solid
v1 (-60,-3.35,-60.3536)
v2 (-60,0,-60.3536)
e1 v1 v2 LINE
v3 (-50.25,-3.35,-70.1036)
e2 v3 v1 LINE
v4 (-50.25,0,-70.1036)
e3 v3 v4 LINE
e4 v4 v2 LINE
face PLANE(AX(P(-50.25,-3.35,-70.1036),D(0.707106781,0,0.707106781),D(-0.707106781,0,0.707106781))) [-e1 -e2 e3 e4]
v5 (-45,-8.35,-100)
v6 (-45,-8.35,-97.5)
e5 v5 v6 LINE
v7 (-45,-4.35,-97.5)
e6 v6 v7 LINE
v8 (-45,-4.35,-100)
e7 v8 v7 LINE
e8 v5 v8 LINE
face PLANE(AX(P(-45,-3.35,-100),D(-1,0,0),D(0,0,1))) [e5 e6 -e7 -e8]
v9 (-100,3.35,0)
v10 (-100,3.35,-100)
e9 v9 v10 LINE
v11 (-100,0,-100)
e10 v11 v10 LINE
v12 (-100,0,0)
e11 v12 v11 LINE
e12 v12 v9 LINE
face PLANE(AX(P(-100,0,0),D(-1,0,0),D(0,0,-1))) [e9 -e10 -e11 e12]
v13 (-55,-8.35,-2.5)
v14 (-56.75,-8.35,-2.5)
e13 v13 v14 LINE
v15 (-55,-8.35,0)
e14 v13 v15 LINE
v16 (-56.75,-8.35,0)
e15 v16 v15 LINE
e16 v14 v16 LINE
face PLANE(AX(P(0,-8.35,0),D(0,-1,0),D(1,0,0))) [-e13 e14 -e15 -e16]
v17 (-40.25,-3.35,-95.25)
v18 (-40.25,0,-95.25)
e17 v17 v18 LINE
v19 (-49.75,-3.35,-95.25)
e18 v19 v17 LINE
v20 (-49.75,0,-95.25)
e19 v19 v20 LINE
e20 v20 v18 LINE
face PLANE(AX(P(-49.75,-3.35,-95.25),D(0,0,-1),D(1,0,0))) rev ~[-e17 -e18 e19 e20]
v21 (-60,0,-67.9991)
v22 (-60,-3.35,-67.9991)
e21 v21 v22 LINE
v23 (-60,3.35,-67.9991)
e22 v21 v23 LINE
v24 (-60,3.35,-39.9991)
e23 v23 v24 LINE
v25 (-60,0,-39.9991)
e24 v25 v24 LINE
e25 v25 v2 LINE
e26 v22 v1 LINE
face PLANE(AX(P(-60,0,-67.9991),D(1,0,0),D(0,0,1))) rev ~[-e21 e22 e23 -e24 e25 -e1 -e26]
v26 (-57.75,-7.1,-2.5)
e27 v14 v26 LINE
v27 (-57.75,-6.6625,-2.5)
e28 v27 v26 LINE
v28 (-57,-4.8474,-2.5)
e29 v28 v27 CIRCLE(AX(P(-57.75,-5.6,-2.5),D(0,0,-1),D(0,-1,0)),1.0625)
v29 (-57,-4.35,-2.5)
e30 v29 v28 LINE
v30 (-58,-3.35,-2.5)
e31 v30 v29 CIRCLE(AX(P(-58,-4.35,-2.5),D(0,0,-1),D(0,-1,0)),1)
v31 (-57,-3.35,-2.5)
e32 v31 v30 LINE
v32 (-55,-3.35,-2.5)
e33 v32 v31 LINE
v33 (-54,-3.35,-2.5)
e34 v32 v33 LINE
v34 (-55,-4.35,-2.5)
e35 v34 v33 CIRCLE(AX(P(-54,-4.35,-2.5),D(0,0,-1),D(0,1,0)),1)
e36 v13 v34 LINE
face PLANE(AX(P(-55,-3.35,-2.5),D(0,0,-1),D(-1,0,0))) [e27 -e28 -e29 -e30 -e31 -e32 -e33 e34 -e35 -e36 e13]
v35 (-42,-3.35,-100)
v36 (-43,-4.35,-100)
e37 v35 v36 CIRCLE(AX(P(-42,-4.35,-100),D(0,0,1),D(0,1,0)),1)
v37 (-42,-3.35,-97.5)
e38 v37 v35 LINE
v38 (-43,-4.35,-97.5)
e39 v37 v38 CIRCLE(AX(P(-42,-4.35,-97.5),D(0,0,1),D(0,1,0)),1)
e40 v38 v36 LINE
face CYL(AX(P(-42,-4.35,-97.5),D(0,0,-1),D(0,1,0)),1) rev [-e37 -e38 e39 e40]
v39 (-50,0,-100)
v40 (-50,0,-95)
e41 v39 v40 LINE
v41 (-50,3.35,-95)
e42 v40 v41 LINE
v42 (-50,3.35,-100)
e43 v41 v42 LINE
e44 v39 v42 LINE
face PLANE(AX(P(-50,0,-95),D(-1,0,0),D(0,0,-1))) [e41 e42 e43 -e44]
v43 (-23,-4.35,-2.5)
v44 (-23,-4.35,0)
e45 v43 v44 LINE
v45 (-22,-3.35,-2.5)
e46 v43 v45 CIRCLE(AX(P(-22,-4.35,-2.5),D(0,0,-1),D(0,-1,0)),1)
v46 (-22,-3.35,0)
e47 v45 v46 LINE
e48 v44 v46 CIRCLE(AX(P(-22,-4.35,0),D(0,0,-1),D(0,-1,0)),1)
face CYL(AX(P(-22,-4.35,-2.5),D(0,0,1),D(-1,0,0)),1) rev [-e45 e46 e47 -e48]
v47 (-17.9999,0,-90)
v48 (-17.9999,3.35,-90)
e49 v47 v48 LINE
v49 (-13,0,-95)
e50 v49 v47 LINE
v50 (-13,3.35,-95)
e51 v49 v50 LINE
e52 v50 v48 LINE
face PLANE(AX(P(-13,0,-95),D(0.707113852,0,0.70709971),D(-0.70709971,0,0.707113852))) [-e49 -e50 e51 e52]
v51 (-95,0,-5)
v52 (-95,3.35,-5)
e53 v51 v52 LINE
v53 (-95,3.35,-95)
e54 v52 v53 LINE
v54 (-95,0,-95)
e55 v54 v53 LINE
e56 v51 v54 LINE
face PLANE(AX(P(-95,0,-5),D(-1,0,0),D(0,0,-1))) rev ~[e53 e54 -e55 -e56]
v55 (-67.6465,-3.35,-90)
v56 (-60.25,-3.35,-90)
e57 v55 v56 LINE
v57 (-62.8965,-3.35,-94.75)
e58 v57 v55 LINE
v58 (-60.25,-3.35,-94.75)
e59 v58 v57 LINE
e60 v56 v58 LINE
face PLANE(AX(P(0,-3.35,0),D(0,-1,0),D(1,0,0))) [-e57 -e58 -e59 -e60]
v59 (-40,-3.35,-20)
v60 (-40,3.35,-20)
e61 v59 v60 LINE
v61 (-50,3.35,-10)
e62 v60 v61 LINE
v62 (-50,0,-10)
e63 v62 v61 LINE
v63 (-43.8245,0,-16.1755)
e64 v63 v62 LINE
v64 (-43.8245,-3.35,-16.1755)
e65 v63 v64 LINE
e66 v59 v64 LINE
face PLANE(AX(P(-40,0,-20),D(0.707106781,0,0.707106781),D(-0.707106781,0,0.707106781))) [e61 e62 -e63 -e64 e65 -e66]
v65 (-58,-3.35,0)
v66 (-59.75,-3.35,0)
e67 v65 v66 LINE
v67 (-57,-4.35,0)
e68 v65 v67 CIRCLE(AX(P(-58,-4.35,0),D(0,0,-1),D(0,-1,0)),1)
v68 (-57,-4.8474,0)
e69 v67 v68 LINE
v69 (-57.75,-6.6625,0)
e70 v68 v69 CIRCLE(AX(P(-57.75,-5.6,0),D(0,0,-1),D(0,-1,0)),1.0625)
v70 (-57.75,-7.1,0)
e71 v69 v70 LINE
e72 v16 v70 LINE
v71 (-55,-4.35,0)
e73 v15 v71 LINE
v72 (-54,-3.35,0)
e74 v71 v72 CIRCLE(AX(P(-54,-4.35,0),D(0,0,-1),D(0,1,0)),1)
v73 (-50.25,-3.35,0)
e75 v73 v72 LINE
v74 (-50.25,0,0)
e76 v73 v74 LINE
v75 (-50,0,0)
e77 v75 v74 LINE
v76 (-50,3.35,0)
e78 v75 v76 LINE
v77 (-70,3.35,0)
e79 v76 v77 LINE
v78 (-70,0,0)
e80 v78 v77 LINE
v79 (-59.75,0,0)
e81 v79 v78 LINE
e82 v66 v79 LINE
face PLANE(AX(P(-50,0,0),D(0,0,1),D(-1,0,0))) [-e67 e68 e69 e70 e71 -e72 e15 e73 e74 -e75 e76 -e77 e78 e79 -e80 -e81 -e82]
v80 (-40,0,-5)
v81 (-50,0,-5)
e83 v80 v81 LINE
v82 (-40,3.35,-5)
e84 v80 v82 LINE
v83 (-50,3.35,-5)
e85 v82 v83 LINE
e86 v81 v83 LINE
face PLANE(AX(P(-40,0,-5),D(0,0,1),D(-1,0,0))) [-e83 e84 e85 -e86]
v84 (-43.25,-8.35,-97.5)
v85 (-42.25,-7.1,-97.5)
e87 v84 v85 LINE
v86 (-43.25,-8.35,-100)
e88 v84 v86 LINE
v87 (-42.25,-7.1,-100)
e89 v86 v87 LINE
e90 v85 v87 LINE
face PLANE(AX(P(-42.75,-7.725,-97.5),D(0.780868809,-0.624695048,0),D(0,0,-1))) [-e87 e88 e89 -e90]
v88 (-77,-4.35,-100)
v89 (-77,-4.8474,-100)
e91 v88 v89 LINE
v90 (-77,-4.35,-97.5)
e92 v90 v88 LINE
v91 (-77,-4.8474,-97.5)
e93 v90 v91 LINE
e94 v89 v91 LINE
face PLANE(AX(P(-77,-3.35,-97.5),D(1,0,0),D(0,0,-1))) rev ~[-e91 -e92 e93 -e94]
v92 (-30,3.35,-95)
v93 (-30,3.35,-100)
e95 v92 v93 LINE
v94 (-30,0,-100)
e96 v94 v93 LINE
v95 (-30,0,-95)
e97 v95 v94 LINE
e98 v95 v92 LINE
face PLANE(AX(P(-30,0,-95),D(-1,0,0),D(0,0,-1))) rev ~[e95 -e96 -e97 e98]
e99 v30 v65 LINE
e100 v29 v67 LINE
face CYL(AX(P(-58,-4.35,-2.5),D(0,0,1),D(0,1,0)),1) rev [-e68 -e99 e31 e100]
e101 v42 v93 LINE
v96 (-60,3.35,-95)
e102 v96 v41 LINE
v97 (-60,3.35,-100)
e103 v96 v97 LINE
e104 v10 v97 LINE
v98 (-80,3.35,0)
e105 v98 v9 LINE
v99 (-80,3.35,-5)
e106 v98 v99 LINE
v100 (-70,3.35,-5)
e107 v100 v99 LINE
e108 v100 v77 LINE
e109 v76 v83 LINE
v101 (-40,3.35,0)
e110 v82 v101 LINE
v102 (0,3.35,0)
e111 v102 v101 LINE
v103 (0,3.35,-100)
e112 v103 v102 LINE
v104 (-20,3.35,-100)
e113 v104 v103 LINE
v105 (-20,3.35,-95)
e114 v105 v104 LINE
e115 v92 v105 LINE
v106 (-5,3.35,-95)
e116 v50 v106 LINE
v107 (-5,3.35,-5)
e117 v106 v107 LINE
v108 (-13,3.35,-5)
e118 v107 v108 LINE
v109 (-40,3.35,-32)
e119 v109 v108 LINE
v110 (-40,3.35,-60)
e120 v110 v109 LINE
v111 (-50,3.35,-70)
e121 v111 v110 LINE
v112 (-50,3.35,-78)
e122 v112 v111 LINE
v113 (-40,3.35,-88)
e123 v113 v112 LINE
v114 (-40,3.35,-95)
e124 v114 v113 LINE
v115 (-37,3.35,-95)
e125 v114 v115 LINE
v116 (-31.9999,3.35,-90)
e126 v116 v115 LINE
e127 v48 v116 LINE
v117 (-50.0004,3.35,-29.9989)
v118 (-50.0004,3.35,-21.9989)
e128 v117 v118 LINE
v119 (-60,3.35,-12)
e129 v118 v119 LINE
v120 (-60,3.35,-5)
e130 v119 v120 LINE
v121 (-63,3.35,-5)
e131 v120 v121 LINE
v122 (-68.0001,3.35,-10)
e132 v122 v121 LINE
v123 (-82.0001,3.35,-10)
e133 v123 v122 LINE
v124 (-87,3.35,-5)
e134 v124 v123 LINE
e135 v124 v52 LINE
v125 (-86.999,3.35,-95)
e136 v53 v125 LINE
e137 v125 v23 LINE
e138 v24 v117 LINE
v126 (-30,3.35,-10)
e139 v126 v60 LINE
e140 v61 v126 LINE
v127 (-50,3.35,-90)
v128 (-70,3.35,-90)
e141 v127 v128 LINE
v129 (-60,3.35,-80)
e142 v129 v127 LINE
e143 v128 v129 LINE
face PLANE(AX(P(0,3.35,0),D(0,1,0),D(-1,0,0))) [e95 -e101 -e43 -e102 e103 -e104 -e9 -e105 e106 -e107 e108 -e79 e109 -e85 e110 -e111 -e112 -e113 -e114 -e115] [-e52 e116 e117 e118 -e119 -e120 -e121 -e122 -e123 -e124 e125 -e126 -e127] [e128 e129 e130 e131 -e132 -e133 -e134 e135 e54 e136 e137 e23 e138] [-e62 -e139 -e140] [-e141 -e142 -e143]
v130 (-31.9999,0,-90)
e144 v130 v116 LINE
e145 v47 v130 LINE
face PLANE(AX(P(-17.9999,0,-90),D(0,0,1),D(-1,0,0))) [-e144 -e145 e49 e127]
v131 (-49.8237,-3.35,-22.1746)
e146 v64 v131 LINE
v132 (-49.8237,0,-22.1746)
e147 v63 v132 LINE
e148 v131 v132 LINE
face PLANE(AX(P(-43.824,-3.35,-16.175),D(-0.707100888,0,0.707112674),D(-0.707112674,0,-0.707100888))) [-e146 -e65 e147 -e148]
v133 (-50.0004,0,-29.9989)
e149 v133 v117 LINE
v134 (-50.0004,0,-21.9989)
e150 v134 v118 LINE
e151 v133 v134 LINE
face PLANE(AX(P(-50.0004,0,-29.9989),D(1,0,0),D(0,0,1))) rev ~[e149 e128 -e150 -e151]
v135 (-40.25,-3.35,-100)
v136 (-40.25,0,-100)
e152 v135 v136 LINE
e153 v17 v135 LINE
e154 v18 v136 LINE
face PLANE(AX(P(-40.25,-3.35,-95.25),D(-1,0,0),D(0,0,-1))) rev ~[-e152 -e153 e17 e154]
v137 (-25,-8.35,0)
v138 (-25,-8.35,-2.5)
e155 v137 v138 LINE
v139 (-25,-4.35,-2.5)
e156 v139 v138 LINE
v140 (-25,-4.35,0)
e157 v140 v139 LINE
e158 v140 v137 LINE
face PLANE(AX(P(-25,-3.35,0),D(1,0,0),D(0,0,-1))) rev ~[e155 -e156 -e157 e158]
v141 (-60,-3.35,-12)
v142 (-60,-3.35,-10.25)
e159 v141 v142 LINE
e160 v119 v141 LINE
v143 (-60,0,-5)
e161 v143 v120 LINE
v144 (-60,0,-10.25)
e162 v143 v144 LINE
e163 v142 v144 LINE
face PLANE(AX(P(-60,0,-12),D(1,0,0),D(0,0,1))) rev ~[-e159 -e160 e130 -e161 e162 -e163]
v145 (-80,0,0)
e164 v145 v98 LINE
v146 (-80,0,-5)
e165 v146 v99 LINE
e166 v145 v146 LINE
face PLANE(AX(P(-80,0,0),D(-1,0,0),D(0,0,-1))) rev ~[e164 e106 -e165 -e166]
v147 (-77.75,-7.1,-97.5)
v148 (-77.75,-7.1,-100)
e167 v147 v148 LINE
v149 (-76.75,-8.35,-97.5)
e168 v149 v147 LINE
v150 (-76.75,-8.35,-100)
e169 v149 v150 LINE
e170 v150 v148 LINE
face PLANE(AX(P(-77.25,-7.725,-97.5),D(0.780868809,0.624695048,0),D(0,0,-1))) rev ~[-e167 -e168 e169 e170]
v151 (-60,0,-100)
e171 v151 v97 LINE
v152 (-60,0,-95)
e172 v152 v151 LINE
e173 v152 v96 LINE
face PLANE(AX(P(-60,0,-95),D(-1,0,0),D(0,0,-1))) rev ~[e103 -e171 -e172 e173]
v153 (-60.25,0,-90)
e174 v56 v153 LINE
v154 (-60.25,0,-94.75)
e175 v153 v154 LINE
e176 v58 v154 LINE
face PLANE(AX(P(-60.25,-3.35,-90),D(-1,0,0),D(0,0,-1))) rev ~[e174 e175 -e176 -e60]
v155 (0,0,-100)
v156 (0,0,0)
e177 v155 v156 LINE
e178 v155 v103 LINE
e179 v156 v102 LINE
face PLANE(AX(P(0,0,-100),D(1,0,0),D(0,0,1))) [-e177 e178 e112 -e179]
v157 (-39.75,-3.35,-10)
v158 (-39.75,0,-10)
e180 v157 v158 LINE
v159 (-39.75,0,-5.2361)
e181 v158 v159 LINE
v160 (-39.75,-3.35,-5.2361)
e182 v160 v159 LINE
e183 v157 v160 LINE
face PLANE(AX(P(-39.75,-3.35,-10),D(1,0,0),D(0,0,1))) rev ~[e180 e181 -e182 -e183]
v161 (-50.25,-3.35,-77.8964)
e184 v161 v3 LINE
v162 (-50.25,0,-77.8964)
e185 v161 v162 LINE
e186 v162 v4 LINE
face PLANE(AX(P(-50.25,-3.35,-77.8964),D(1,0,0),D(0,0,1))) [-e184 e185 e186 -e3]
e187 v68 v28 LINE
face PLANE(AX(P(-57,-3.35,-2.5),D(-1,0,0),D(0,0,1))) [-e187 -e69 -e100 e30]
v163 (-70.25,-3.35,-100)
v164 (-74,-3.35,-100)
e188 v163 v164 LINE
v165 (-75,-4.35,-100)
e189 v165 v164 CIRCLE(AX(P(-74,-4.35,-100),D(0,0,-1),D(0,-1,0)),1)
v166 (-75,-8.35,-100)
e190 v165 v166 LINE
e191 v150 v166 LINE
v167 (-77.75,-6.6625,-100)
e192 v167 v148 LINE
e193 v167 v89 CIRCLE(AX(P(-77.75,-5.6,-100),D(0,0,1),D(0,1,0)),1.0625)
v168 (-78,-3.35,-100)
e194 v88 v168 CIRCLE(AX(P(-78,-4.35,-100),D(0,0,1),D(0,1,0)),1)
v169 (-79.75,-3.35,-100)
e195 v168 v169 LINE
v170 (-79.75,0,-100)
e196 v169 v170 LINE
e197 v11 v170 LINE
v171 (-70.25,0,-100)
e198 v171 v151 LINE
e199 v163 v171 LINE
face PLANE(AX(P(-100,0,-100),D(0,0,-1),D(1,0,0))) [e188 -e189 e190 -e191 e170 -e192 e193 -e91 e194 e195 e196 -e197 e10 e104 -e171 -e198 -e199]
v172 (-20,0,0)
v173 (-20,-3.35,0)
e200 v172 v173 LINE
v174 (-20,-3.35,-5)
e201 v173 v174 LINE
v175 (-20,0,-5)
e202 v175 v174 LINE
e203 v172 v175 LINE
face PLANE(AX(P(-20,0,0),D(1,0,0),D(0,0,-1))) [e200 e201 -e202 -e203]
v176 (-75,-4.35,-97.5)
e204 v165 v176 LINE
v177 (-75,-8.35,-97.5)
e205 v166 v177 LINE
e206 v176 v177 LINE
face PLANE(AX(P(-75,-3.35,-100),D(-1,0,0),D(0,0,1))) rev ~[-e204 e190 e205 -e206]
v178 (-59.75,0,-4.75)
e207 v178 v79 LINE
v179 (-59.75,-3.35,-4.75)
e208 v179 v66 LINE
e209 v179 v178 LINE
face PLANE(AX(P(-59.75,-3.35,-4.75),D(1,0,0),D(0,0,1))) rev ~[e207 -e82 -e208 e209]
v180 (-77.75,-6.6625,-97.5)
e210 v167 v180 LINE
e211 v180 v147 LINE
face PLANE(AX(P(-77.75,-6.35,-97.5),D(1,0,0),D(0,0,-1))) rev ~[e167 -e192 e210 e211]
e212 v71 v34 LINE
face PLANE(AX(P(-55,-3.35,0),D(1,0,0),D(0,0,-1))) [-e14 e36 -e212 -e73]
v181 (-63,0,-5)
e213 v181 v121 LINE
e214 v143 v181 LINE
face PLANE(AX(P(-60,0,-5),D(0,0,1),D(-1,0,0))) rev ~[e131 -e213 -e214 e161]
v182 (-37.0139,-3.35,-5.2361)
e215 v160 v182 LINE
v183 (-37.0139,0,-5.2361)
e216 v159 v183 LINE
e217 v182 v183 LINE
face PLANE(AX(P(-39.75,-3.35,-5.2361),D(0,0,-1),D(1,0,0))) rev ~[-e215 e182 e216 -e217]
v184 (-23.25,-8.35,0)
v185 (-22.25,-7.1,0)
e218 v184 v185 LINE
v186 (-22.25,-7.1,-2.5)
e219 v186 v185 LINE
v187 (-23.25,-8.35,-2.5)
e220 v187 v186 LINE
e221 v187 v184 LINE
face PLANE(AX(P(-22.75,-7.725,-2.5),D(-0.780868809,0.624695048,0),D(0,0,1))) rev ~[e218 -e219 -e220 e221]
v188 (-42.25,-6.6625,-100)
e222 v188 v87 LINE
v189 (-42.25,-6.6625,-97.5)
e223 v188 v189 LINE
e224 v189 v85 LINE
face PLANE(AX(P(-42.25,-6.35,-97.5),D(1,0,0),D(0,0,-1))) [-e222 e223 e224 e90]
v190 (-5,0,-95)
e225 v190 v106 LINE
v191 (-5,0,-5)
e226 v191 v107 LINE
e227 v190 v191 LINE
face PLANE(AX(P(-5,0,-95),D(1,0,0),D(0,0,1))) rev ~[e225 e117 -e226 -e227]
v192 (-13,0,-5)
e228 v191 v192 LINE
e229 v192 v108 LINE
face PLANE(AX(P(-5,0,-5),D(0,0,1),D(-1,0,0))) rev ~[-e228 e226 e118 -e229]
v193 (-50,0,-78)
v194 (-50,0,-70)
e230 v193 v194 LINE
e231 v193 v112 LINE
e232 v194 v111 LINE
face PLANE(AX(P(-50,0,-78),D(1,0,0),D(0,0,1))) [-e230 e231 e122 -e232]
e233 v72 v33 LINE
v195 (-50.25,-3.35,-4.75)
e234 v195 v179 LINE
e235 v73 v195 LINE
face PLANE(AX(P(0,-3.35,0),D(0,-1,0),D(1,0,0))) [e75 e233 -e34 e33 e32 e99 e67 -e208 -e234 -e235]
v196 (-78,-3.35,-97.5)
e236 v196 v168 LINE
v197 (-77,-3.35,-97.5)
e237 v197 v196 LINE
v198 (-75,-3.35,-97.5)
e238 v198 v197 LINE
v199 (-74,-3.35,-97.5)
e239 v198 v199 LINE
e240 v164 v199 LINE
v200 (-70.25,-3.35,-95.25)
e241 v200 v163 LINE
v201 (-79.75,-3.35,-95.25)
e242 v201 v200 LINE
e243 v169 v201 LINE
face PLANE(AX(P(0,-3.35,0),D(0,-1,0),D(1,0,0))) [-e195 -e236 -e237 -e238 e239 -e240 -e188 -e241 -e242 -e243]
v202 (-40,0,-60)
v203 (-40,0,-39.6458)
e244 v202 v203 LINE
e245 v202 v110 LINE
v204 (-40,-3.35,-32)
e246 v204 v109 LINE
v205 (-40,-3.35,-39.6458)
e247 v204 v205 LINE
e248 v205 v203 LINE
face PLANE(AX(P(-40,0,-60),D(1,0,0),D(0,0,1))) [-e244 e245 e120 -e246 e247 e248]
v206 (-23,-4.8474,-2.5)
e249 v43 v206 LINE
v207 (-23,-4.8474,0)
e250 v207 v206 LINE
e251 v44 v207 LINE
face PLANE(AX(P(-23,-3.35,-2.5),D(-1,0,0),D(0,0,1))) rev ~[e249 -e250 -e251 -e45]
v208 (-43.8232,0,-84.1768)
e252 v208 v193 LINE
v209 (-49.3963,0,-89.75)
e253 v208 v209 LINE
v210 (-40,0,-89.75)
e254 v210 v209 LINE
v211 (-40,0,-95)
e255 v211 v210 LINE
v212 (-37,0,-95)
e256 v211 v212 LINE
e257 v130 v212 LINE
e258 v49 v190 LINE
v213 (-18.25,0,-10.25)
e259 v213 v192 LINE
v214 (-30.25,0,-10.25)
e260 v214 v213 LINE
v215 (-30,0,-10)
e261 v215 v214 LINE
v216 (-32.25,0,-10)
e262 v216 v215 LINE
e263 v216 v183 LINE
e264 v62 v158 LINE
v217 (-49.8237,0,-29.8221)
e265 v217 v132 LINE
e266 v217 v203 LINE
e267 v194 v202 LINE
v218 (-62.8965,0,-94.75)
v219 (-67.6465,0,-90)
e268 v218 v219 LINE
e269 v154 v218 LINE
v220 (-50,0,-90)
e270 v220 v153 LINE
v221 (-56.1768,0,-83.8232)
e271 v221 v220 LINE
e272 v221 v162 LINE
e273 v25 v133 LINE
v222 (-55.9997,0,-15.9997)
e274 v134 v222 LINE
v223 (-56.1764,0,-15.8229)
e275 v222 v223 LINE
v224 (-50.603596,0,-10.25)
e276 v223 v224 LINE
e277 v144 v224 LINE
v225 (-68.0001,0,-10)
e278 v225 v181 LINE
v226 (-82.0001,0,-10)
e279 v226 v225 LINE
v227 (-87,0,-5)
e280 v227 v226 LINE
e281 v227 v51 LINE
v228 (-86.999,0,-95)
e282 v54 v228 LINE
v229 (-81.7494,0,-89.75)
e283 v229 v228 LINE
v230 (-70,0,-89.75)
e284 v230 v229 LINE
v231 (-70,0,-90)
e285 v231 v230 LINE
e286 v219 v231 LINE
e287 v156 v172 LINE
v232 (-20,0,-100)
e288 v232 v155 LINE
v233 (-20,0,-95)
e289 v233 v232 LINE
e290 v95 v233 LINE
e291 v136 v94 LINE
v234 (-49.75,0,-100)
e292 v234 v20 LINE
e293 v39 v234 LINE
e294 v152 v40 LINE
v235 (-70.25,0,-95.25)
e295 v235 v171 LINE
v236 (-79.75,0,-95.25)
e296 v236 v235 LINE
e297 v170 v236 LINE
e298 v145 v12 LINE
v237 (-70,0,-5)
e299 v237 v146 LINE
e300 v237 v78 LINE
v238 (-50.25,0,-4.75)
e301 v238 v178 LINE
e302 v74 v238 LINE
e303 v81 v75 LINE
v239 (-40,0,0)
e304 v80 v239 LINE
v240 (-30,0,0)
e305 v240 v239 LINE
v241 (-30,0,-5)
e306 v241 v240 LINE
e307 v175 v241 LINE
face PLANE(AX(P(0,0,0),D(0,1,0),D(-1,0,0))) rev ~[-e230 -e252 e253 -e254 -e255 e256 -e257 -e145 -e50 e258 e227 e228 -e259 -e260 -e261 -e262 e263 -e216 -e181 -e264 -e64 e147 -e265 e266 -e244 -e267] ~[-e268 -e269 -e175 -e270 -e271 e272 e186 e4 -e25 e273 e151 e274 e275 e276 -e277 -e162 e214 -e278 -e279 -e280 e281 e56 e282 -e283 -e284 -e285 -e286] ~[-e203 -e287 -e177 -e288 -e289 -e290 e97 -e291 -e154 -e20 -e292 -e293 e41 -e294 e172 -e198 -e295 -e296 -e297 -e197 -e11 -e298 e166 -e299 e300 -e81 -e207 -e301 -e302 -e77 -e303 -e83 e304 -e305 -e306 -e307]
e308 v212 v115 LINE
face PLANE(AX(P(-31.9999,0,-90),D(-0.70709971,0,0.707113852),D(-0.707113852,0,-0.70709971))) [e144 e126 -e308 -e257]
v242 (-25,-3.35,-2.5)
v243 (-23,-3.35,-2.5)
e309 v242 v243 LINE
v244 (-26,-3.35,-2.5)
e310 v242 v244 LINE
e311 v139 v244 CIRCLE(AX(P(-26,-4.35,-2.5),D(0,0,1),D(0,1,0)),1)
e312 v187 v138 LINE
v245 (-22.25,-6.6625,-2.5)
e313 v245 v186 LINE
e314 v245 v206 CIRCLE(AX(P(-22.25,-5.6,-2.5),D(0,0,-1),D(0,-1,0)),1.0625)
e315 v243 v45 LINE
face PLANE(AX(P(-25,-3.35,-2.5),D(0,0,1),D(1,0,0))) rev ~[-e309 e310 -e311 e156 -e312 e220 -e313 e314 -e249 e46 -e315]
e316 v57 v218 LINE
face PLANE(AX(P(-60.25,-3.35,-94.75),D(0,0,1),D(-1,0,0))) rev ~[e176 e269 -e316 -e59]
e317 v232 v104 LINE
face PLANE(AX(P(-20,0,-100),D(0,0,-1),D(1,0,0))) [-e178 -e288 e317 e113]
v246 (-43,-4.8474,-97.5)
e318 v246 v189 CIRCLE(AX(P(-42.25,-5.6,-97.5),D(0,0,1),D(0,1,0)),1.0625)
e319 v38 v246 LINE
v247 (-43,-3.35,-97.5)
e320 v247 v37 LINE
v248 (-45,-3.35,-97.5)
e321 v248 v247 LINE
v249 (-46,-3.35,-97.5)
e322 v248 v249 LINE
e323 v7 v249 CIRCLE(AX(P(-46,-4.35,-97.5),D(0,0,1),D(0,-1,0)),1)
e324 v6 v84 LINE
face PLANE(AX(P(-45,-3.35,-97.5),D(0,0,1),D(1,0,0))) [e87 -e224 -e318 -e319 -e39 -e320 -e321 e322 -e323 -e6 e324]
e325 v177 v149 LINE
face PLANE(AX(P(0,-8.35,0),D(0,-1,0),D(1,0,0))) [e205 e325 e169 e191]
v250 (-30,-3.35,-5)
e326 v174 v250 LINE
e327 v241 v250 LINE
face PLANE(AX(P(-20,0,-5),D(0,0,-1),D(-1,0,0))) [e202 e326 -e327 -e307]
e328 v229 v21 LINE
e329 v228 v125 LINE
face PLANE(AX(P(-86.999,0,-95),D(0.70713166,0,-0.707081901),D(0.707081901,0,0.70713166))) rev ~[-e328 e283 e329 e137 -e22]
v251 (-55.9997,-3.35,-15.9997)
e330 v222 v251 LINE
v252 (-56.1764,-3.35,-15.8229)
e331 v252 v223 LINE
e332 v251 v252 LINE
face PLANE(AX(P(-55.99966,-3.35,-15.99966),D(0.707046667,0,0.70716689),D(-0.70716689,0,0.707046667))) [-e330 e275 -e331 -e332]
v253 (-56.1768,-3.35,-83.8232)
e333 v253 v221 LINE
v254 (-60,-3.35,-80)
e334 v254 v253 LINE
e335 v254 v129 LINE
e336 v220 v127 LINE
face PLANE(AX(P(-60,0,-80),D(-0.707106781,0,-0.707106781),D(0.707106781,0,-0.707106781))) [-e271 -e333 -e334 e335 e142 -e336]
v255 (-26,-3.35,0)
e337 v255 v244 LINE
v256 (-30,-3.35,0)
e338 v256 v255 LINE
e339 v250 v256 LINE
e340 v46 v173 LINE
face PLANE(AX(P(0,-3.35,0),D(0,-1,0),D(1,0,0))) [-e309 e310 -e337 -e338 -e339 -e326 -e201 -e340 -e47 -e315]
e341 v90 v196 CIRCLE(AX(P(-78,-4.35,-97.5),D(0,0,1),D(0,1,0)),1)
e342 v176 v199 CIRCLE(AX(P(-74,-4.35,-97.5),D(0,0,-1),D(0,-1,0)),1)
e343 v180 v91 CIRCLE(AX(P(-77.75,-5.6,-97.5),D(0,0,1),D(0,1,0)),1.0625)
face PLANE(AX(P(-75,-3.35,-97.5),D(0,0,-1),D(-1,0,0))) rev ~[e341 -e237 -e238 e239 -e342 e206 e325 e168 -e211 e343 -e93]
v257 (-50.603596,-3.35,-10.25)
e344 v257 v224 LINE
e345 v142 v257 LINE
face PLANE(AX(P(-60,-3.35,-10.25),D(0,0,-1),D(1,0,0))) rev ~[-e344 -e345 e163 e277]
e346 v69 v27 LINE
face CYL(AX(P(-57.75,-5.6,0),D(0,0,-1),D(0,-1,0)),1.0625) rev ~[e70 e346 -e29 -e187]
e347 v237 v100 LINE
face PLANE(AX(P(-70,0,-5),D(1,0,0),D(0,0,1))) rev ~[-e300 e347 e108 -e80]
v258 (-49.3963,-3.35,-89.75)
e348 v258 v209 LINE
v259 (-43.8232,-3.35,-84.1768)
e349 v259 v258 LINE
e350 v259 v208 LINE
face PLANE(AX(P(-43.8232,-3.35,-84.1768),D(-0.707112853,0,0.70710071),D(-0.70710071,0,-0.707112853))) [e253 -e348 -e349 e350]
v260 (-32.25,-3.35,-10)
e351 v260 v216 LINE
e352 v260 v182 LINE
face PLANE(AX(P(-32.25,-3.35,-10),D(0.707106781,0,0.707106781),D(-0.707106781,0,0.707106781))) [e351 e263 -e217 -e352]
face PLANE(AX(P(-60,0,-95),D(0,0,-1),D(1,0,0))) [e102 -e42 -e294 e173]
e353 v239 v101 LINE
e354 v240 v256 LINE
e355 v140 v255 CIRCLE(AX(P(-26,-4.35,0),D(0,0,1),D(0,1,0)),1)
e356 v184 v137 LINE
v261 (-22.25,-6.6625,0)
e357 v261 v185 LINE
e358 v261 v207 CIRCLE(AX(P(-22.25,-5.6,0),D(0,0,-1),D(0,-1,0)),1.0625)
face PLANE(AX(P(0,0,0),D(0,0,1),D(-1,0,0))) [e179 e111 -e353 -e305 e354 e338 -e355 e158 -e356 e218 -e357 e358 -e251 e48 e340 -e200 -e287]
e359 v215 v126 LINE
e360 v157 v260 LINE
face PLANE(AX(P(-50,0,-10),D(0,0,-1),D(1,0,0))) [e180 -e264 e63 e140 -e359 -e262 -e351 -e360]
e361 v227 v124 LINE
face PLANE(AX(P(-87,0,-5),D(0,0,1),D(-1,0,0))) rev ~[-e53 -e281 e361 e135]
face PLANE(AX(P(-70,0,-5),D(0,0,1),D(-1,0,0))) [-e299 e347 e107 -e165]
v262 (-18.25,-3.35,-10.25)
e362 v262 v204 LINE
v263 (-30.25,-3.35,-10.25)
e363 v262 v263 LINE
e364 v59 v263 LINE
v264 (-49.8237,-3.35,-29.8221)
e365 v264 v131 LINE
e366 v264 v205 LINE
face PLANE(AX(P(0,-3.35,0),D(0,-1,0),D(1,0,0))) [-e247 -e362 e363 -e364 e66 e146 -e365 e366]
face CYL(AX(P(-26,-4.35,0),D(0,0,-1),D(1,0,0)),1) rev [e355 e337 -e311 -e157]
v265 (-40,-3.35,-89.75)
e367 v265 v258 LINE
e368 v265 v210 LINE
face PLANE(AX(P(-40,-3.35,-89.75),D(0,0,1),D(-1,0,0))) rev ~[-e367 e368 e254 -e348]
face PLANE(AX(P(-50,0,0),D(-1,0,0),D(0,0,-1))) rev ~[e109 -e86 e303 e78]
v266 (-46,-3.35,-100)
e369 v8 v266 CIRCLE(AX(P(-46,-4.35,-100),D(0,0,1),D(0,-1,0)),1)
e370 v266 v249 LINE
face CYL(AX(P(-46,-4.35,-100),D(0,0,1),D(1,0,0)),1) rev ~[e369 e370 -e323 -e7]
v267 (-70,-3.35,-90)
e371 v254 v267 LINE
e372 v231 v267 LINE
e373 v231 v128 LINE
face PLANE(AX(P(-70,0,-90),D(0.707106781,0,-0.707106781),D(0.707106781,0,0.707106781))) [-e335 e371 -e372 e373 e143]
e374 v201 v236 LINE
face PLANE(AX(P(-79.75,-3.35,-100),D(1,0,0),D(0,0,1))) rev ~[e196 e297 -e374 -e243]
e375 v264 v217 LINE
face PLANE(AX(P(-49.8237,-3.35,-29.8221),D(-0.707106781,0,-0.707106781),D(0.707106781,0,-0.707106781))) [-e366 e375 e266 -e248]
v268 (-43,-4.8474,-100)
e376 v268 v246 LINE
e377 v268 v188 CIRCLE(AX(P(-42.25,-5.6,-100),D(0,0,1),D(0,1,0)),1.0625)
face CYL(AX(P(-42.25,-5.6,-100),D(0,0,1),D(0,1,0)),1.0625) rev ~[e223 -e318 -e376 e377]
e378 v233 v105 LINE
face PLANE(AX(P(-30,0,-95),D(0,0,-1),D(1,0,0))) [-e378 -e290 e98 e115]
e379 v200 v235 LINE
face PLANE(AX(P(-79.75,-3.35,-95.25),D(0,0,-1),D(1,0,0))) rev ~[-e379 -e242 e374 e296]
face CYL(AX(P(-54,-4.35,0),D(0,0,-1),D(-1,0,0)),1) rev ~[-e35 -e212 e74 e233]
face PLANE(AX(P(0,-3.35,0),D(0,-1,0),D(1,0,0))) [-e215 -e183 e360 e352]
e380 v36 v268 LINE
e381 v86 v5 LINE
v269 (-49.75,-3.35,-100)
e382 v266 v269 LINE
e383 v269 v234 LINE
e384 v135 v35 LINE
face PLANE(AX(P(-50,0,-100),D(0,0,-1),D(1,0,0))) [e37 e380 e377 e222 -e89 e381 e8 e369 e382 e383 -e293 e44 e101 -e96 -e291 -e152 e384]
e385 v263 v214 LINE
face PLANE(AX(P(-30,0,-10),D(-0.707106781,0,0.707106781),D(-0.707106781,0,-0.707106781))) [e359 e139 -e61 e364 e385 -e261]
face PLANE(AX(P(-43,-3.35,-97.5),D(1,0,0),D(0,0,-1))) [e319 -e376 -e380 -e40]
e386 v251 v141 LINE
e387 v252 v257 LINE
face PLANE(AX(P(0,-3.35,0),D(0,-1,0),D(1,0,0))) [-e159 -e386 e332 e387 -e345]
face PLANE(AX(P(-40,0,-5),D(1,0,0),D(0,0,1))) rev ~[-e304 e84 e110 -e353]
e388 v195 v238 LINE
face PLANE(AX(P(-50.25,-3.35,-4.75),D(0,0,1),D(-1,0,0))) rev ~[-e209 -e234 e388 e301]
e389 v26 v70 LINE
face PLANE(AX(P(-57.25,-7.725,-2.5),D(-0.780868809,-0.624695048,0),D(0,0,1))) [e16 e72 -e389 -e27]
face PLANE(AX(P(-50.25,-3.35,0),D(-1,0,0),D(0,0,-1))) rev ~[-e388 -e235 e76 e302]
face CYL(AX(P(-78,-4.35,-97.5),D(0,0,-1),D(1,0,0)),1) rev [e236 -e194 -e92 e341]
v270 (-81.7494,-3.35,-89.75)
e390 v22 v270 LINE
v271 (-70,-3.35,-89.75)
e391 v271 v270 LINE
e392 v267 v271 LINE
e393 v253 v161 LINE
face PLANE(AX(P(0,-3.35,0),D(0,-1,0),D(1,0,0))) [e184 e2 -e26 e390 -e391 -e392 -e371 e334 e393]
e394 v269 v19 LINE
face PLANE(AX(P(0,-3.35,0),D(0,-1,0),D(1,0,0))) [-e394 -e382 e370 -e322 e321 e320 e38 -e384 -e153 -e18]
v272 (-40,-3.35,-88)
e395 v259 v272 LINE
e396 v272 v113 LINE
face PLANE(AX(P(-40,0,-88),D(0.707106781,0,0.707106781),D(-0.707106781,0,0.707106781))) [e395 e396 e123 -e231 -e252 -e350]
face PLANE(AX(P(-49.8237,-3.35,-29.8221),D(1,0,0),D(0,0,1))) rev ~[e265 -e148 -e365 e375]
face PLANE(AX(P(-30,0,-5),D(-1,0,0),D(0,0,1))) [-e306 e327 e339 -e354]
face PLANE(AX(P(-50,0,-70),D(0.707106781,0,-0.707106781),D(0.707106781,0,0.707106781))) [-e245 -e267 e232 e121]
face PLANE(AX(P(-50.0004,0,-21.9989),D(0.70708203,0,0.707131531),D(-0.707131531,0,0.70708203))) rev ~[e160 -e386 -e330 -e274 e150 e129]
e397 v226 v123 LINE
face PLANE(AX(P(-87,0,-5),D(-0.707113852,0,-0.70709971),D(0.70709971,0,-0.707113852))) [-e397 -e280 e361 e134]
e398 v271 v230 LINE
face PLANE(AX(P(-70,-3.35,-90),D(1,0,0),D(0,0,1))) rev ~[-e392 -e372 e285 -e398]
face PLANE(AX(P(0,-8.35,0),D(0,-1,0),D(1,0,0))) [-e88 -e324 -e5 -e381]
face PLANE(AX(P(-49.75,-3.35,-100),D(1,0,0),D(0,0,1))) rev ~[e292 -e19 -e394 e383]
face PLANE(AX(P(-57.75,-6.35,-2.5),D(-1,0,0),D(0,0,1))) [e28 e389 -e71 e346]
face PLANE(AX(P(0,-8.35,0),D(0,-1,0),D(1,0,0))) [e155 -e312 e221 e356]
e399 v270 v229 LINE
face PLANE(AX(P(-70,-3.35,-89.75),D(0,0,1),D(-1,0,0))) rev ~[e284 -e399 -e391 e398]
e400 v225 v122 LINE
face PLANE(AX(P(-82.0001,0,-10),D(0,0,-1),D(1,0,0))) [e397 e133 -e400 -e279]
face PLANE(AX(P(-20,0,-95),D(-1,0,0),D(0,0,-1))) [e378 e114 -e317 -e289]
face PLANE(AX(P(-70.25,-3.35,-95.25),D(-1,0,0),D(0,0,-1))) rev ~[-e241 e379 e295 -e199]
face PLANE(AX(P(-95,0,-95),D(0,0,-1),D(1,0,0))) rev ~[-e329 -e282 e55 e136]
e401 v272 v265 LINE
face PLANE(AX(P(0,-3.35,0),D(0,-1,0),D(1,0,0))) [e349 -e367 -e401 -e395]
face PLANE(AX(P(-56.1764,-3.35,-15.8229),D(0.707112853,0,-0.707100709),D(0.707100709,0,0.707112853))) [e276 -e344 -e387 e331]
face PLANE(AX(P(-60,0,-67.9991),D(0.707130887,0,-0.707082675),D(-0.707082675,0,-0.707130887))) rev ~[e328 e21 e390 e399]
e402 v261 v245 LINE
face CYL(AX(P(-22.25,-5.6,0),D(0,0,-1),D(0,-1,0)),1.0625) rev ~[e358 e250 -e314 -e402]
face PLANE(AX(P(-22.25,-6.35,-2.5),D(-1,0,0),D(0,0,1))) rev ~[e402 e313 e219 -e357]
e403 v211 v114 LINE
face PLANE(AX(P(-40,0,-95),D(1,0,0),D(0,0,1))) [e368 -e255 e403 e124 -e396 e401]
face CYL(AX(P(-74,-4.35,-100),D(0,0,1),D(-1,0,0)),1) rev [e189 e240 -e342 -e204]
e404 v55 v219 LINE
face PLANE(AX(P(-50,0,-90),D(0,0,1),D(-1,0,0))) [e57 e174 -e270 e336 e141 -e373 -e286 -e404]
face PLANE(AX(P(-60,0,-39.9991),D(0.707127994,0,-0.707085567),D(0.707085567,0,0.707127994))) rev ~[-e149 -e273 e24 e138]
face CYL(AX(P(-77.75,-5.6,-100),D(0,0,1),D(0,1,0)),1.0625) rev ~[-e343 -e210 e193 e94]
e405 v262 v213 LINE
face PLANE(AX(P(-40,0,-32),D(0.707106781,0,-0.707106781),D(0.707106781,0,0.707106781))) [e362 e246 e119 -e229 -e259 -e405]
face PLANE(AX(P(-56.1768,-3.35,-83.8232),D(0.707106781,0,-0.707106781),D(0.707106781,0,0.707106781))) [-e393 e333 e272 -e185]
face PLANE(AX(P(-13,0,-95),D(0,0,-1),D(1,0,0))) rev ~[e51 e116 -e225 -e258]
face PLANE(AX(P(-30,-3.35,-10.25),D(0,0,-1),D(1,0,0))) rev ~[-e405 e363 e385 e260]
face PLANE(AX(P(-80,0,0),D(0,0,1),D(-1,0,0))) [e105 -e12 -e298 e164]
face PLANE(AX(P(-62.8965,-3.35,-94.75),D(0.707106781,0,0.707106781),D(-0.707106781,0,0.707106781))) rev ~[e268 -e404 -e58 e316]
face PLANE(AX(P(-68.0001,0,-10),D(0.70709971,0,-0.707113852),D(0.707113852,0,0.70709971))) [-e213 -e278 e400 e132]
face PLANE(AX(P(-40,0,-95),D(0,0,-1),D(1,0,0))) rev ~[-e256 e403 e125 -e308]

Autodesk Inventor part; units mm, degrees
ref_plane "YZ Plane" through (0, 0, 0) normal (1, 0, 0) x (0, 1, 0)
ref_plane "XZ Plane" through (0, 0, 0) normal (0, 1, 0) x (-1, 0, 0)
ref_plane "XY Plane" through (0, 0, 0) normal (0, 0, 1) x (1, 0, 0)
sketch "Sketch2" plane through (0, 0, 0) normal (0, 1, 0) x (-1, 0, 0)
  line L0 (0, 0) -> (100, 0)
  line L1 (100, 0) -> (100, -100)
  line L2 (100, -100) -> (0, -100)
  line L3 (0, -100) -> (0, 0)
  line L4 (5, -5) -> (95, -5)
  line L5 (95, -5) -> (95, -95)
  line L6 (95, -95) -> (5, -95)
  line L7 (5, -95) -> (5, -5)
  line L8 (86.999, -95) -> (60, -67.9991)
  line L9 (86.999, -95) -> (125.1827, -95) construction
  line L10 (60, -67.9991) -> (60, -39.9991)
  line L11 (60, -39.9991) -> (50.0004, -29.9989)
  line L12 (50.0004, -29.9989) -> (50.0004, -21.9989)
  line L13 (50.0004, -21.9989) -> (60, -12)
  line L14 (60, -12) -> (60, -5)
  line L15 (40, -95) -> (40, -88)
  line L16 (40, -88) -> (50, -78)
  line L17 (50, -78) -> (50, -70)
  line L18 (50, -70) -> (40, -60)
  line L19 (40, -60) -> (40, -32)
  line L20 (40, -32) -> (13, -5)
  line L21 (87, -5) -> (82.0001, -10)
  line L22 (87, -5) -> (94.071, -5) construction
  line L23 (82.0001, -10) -> (68.0001, -10)
  line L24 (68.0001, -10) -> (63, -5)
  line L25 (13, -95) -> (17.9999, -90)
  line L26 (17.9999, -90) -> (31.9999, -90)
  line L27 (31.9999, -90) -> (37, -95)
  line L28 (80, -5) -> (80, 0) construction
  line L29 (80, 0) -> (80, -5)
  line L30 (40, -5) -> (40, 0)
  line L31 (40, 0) -> (40, -5)
  line L32 (50, 0) -> (50, -5)
  line L33 (70, -5) -> (70, 0)
  line L34 (50, -95) -> (50, -100)
  line L35 (60, -95) -> (60, -100)
  line L36 (30, -95) -> (30, -100)
  line L37 (20, -95) -> (20, -100)
  line L38 (50, -90) -> (70, -90)
  line L39 (70, -90) -> (60, -80)
  line L40 (60, -80) -> (50, -90)
  line L41 (50, -10) -> (30, -10)
  line L42 (30, -10) -> (40, -20)
  line L43 (40, -20) -> (50, -10)
  dimension "d0" = 100
  dimension "d1" = 100
  dimension "d2" = 90
  dimension "d3" = 90
  dimension "d4" = 5
  dimension "d5" = 5
  dimension "d6" = 38.1837
  dimension "d7" = 28
  dimension "d8" = 14.142
  dimension "d9" = 135.002
  dimension "d10" = 8
  dimension "d11" = 35
  dimension "d12" = 7
  dimension "d13" = 7
  dimension "d14" = 8
  dimension "d15" = 28
  dimension "d16" = 35
  dimension "d17" = 135
  dimension "d18" = 7.071
  dimension "d19" = 14
  dimension "d20" = 14
  dimension "d21" = 5
  dimension "d22" = 5
  dimension "d23" = 8
  dimension "d24" = 8
  dimension "d25" = 8
  dimension "d26" = 45
extrude "Extrusion1" add sketch "Sketch2" along normal blind 3.35 contours L0 L30 L4 L7 L6 L37 L2 L3 | L0 L33 L4 L32 | L4 L14 L13 L12 L11 L10 L8 L6 L15 L16 L17 L18 L19 L20 | L36 L6 L34 L2 | L6 L25 L26 L27 | L0 L1 L2 L35 L6 L5 L4 L29 | L4 L21 L23 L24
sketch "Sketch4" plane through (0, 0, 0) normal (0, -1, 0) x (1, 0, 0)
  line L0 (-30, -100) -> (-50, -100)
  line L1 (-40, -95) -> (-37, -95)
  line L2 (-40, -100) -> (-40, -95)
  line L3 (-50, -100) -> (-50, -95)
  line L4 (-40, -95) -> (-50, -95)
  line L5 (-50, -95) -> (-50, -100)
  line L6 (-50, -100) -> (-40, -100)
  line L7 (-50, -95) -> (-60, -95)
  line L8 (-60, -95) -> (-60, -90)
  line L9 (-70, -90) -> (-50, -90)
  line L10 (-67, -90) -> (-60, -90)
  line L11 (-60, -100) -> (-100, -100)
  line L12 (-70, -100) -> (-70, -95)
  line L13 (-70, -95) -> (-80, -95)
  line L14 (-80, -95) -> (-80, -100)
  line L15 (-70, -100) -> (-80, -100)
  line L16 (-50, -70) -> (-50, -78)
  line L17 (-50, -70) -> (-60, -59.9998)
  line L18 (-60, -67.9991) -> (-60, -39.9991)
  line L19 (-60, -80) -> (-50, -90)
  line L20 (-50, -90) -> (-40, -90)
  line L21 (-50, -90) -> (-43.9999, -84.0001)
  line L22 (-50, -78) -> (-40, -88)
  line L23 (-40, -88) -> (-43.9999, -84.0001)
  line L24 (-40, -88) -> (-40, -90)
  line L25 (-40, -88) -> (-40, -95)
  line L26 (-70, -90) -> (-81.9994, -90)
  line L27 (-43.9999, -84.0001) -> (-50, -78)
  line L28 (-50, -70) -> (-60, -59.9998)
  line L29 (-60, -67.9991) -> (-81.9994, -90)
  line L30 (-86.999, -95) -> (-60, -67.9991)
  line L31 (-60, -80) -> (-70, -90)
  line L32 (-70, -90) -> (-60, -80)
  line L33 (-60, -80) -> (-50, -90)
  line L34 (-50.0004, -29.9989) -> (-50.0004, -21.9989)
  line L35 (-50.0004, -29.9989) -> (-40, -39.9993)
  line L36 (-40, -32) -> (-40, -60)
  line L37 (-50.0004, -21.9989) -> (-60, -12)
  line L38 (-50.0004, -21.9989) -> (-44.0008, -15.9992)
  line L39 (-40, -20) -> (-50, -10)
  line L40 (-50, -10) -> (-55.9997, -15.9997)
  line L41 (-55.9997, -15.9997) -> (-50.0004, -21.9989)
  line L42 (-44.0008, -15.9992) -> (-50, -10)
  line L43 (-50, -10) -> (-60, -10)
  line L44 (-60, -12) -> (-60, -5)
  line L45 (-60, -10) -> (-60, -12)
  line L46 (-60, -12) -> (-55.9997, -15.9997)
  line L47 (-40, -10) -> (-40, -4.9861)
  line L48 (-40, -4.9861) -> (-37, -4.9861)
  line L49 (-60, -90) -> (-68, -90)
  line L50 (-68, -90) -> (-63.0001, -95)
  line L51 (-63.0001, -95) -> (-60, -95)
  line L52 (-40, -10) -> (-32, -10)
  line L53 (-50, -10) -> (-30, -10)
  line L54 (-32, -10) -> (-37, -4.9861)
  line L55 (-50, 0) -> (-50, -5)
  line L56 (-50, -5) -> (-50, 0)
  line L57 (-50, 0) -> (-60, 0)
  line L58 (-70, 0) -> (-50, 0)
  line L59 (-60, -5) -> (-50, -5)
  line L60 (-20, 0) -> (-20, -5)
  line L61 (-20, -5) -> (-30, -5)
  line L62 (-30, -5) -> (-30, 0)
  line L63 (-30, 0) -> (-20, 0)
  line L64 (-40, 0) -> (0, 0)
  line L65 (-50, -78) -> (-56, -84)
  line L66 (-60, -5) -> (-60, 0)
  line L67 (-50, -5) -> (-40, -5)
  line L68 (-30, -10) -> (-18, -10)
  line L69 (-13, -5) -> (-40, -32)
  line L70 (-40, -32) -> (-18, -10)
  line L71 (-40, -32) -> (-40, -39.9993)
  line L72 (-40, -20) -> (-30, -10)
  line L73 (-30, -10) -> (-40, -20)
  line L74 (-44.0008, -15.9992) -> (-50.0004, -21.9989)
  dimension "d33" = 3
  dimension "d34" = 8
  dimension "d35" = 7.071
  dimension "d36" = 8
extrude "Extrusion2" add sketch "Sketch4" along normal blind 3.35 contours L0 L3 L4 L2 | L20 L21 L22 L24 | L51 L50 L9 L8 | L19 L31 L26 L29 L18 L17 L16 L65 | L11 L14 L13 L12 | L34 L38 L39 L72 L68 L69 L36 L35 | L37 L44 L43 L40 | L47 L48 L54 L52 | L66 L57 L55 L59 | L60 L61 L62 L63
sketch "Sketch5" plane through (0, -3.35, 0) normal (0, -1, 0) x (1, 0, 0)
  line L0 (-40, 0) -> (0, 0) projected
  line L1 (-20, 0) -> (-23, 0)
  line L2 (-23, 0) -> (-25, 0)
  line L3 (-25, 0) -> (-25, -2.5)
  line L4 (-25, -2.5) -> (-23, -2.5)
  line L5 (-23, -2.5) -> (-23, 0)
  line L6 (-70, 0) -> (-50, 0) projected
  line L7 (-60, 0) -> (-57, 0)
  line L8 (-57, 0) -> (-55, 0)
  line L9 (-55, 0) -> (-55, -2.5)
  line L10 (-55, -2.5) -> (-57, -2.5)
  line L11 (-57, -2.5) -> (-57, 0)
  line L12 (-40, -95) -> (-40, -100) projected
  line L13 (-40, -100) -> (-43, -100)
  line L14 (-30, -100) -> (-50, -100) projected
  line L15 (-43, -100) -> (-45, -100)
  line L16 (-45, -100) -> (-45, -97.5)
  line L17 (-45, -97.5) -> (-43, -97.5)
  line L18 (-43, -97.5) -> (-43, -100)
  line L19 (-80, -100) -> (-70, -100) projected
  line L20 (-80, -100) -> (-77, -100)
  line L21 (-77, -100) -> (-75, -100)
  line L22 (-75, -100) -> (-75, -97.5)
  line L23 (-75, -97.5) -> (-77, -97.5)
  line L24 (-77, -97.5) -> (-77, -100)
  dimension "d42" = 3
  dimension "d43" = 2
  dimension "d44" = 2.5
  dimension "d45" = 3
  dimension "d46" = 2
  dimension "d47" = 2.5
  dimension "d48" = 3
  dimension "d49" = 2
  dimension "d50" = 2.5
  dimension "d51" = 3
  dimension "d52" = 2
  dimension "d53" = 2.5
sketch "Sketch6" plane through (0, -3.35, 0) normal (0, -1, 0) x (1, 0, 0)
  line L0 (-20, 0) -> (-20, -5)
  line L1 (-20, 0) -> (-20.25, 0)
  line L2 (-40, 0) -> (0, 0)
  line L3 (-20.25, 0) -> (-20.25, -4.75)
  line L4 (-20.25, -4.75) -> (-29.75, -4.75)
  line L5 (-29.75, -4.75) -> (-29.75, 0)
  line L6 (-20.25, 0) -> (-20, 0)
  line L7 (-30, -5) -> (-20, -5)
  line L8 (-20, -5) -> (-30, -5)
  line L9 (-30, -5) -> (-30, 0)
  line L10 (-30, -5) -> (-30, 0)
  line L11 (-30, 0) -> (-29.75, 0)
  line L12 (-30, -10.25) -> (-18.25, -10.25)
  line L13 (-40, -32) -> (-18, -10)
  line L14 (-18, -10) -> (-30, -10)
  line L15 (-18, -10) -> (-30, -10)
  line L16 (-30, -10) -> (-30, -10.25)
  line L17 (-18.25, -10.25) -> (-18, -10)
  line L18 (-50, -5) -> (-50, 0)
  line L19 (-50, 0) -> (-50.25, 0)
  line L20 (-50, 0) -> (-52, 0)
  line L21 (-50.25, 0) -> (-50.25, -4.75)
  line L22 (-50.25, -4.75) -> (-59.75, -4.75)
  line L23 (-59.75, -4.75) -> (-59.75, 0)
  line L24 (-58, 0) -> (-60, 0)
  line L25 (-59.75, 0) -> (-60, 0)
  line L26 (-60, -5) -> (-60, 0)
  line L27 (-60, 0) -> (-60, -5)
  line L28 (-60, -5) -> (-50, -5)
  line L29 (-50, 0) -> (-50, -5)
  line L30 (-50, -5) -> (-50, 0)
  line L31 (-50, 0) -> (-50.25, 0)
  line L32 (-39.9995, -19.9995) -> (-44.0008, -15.9982)
  line L33 (-44.0008, -15.9982) -> (-43.824, -16.175)
  line L34 (-43.824, -16.175) -> (-49.8237, -22.1746)
  line L35 (-49.8237, -22.1746) -> (-50.0004, -21.9979)
  line L36 (-50.0004, -21.9979) -> (-44.0008, -15.9982)
  line L37 (-50.0004, -29.9989) -> (-40, -39.9993)
  line L38 (-50.0004, -29.9989) -> (-49.8237, -29.8221)
  line L39 (-50.0004, -29.9989) -> (-49.7504, -29.9989) construction
  line L40 (-49.8237, -29.8221) -> (-49.8237, -22.1746)
  line L41 (-44.0008, -15.9982) -> (-50.0004, -21.9979)
  line L42 (-50.0004, -29.9989) -> (-50.0004, -21.9979)
  line L43 (-50.0004, -21.9979) -> (-49.8237, -22.1746)
  line L44 (-49.8237, -29.8221) -> (-40, -39.6458)
  line L45 (-40, -39.9993) -> (-40, -32)
  line L46 (-40, -39.9993) -> (-50.0004, -29.9989)
  line L47 (-50, -70) -> (-60, -59.9998)
  line L48 (-50, -70) -> (-50.1768, -70.1768)
  line L49 (-50, -70) -> (-49.75, -70) construction
  line L50 (-50.1768, -70.1768) -> (-60, -60.3536)
  line L51 (-56, -84) -> (-50, -78)
  line L52 (-50, -78) -> (-56, -84)
  line L53 (-56, -84) -> (-56.1768, -83.8232)
  line L54 (-56.1768, -83.8232) -> (-50.1768, -77.8232)
  line L55 (-50.1768, -77.8232) -> (-50, -78)
  line L56 (-50, -78) -> (-50, -70)
  line L57 (-50, -78) -> (-50.25, -78)
  line L58 (-50, -78) -> (-49.75, -78) construction
  line L59 (-50.25, -78) -> (-50.25, -70)
  line L60 (-50.25, -70) -> (-50, -70)
  line L61 (-43.9999, -84.0001) -> (-50, -90)
  line L62 (-43.9999, -84.0001) -> (-43.8232, -84.1768)
  line L63 (-40, -88) -> (-43.9999, -84.0001)
  line L64 (-43.8232, -84.1768) -> (-49.6463, -90)
  line L65 (-50, -90) -> (-40, -90)
  line L66 (-50, -90) -> (-43.9999, -84.0001)
  line L67 (-40, -90) -> (-40, -88)
  line L68 (-40, -90) -> (-40, -89.75)
  line L69 (-40, -89.75) -> (-49.3963, -89.75)
  line L70 (-49.6463, -90) -> (-40, -90)
  line L71 (-70, -90) -> (-60, -80)
  line L72 (-70, -90) -> (-70, -89.75)
  line L73 (-70, -89.75) -> (-69.75, -89.75)
  line L74 (-70, -90) -> (-70, -89.75)
  line L75 (-81.9994, -90) -> (-70, -90)
  line L76 (-70, -90) -> (-81.9994, -90)
  line L77 (-70, -89.75) -> (-81.7494, -89.75)
  line L78 (-60, -67.9991) -> (-81.9994, -90)
  line L79 (-81.9994, -90) -> (-81.7494, -89.75)
  line L80 (-50, -100) -> (-50, -95)
  line L81 (-50, -100) -> (-49.75, -100)
  line L82 (-50, -100) -> (-48, -100)
  line L83 (-49.75, -100) -> (-49.75, -95.25)
  line L84 (-49.75, -95.25) -> (-40.25, -95.25)
  line L85 (-40.25, -95.25) -> (-40.25, -100)
  line L86 (-42, -100) -> (-40, -100)
  line L87 (-40, -95) -> (-40, -100)
  line L88 (-40, -100) -> (-40, -95)
  line L89 (-50, -95) -> (-40, -95)
  line L90 (-40, -95) -> (-50, -95)
  line L91 (-50, -95) -> (-50, -100)
  line L92 (-40.25, -100) -> (-40, -100)
  line L93 (-60, -80) -> (-70, -90)
  line L94 (-69.75, -89.75) -> (-70, -90)
  line L95 (-80, -100) -> (-80, -95)
  line L96 (-80, -100) -> (-79.75, -100)
  line L97 (-80, -100) -> (-78, -100)
  line L98 (-79.75, -100) -> (-79.75, -95.25)
  line L99 (-79.75, -95.25) -> (-70.25, -95.25)
  line L100 (-70.25, -95.25) -> (-70.25, -100)
  line L101 (-72, -100) -> (-70, -100)
  line L102 (-70.25, -100) -> (-70, -100)
  line L103 (-70, -100) -> (-70, -95)
  line L104 (-70, -95) -> (-80, -95)
  line L105 (-80, -95) -> (-80, -100)
  line L106 (-60, -60.3536) -> (-60, -59.9998)
  line L107 (-60, -67.9991) -> (-60, -39.9991)
  line L108 (-40, -60) -> (-50, -70)
  line L109 (-60, -59.9998) -> (-50, -70)
  line L110 (-50, -70) -> (-50.25, -70)
  line L111 (-50.25, -70) -> (-50.25, -78)
  line L112 (-49.8237, -22.1746) -> (-50.0004, -21.9979)
  line L113 (-50.0004, -29.9989) -> (-50.0004, -21.9979)
  line L114 (-50.0004, -21.9979) -> (-50.0004, -29.9989)
  line L115 (-50.0004, -29.9989) -> (-49.8237, -29.8221)
  line L116 (-49.8237, -29.8221) -> (-49.8237, -22.1746)
  line L117 (-60, -95) -> (-60, -100)
  line L118 (-60, -95) -> (-60, -94.75)
  line L119 (-60, -95) -> (-60, -90)
  line L120 (-60, -94.75) -> (-63.2501, -94.75)
  line L121 (-63.0001, -95) -> (-68, -90)
  line L122 (-63.0001, -95) -> (-60, -95)
  line L123 (-63.2501, -94.75) -> (-63.0001, -95)
  line L124 (-63.0001, -95) -> (-60, -95)
  line L125 (-60, -95) -> (-60, -94.75)
  line L126 (-70, -90) -> (-50, -90)
  line L127 (-60, -90) -> (-60.25, -90)
  line L128 (-60.25, -90) -> (-60.25, -94.75)
  line L129 (-60, -90) -> (-60, -94.75)
  line L130 (-60.25, -94.75) -> (-60, -94.75)
  line L131 (-63.0001, -95) -> (-62.8233, -94.8232)
  line L132 (-63.0001, -95) -> (-62.7501, -95) construction
  line L133 (-62.8233, -94.8232) -> (-67.6465, -90)
  line L134 (-67.6465, -90) -> (-68, -90)
  line L135 (-68, -90) -> (-63.0001, -95)
  line L136 (-68, -90) -> (-67.6465, -90)
  line L137 (-44.0008, -15.9982) -> (-50, -10)
  line L138 (-30, -10) -> (-30, -10.25)
  line L139 (-30, -10) -> (-30, -10.25)
  line L140 (-30, -10.25) -> (-30.25, -10.25)
  line L141 (-30, -10) -> (-39.9995, -19.9995)
  line L142 (-30.25, -10.25) -> (-30, -10)
  line L143 (-30.25, -10.25) -> (-30, -10)
  line L144 (-20, 0) -> (0, 0) projected
  line L145 (-20, 0) -> (-30, 0) projected
  line L146 (-40, -10) -> (-32, -10) projected
  line L147 (-60, -10) -> (-60, -12) projected
  line L148 (-60, -12) -> (-60, -5) projected
  line L149 (-50, -10) -> (-40, -10) projected
  line L150 (-56.1763, -15.8227) -> (-47.9414, -15.8227) construction
  line L151 (-50.0004, -21.9989) -> (-60, -12) projected
  line L152 (-50, -10) -> (-55.9997, -15.9997)
  line L153 (-55.9997, -15.9997) -> (-56.1764, -15.8229)
  line L154 (-56.1764, -15.8229) -> (-50.3536, -10)
  line L155 (-50, -10) -> (-60, -10) projected
  line L156 (-50, -10) -> (-50.3536, -10)
  line L157 (-60, -10) -> (-60, -10.25)
  line L158 (-60, -10.25) -> (-50.25, -10.25)
  line L159 (-55.9997, -15.9997) -> (-50, -10) projected
  line L160 (-60, -10) -> (-50.3536, -10)
  line L161 (-32, -10) -> (-32.25, -10)
  line L162 (-30, -10) -> (-50, -10) projected
  line L163 (-32.25, -10) -> (-37.2639, -4.9861)
  line L164 (-40, -4.9861) -> (-37, -4.9861) projected
  line L165 (-32, -10) -> (-37, -4.9861)
  line L166 (-37.2639, -4.9861) -> (-37, -4.9861)
  line L167 (-37, -4.9861) -> (-32, -10) projected
  line L168 (-36.7369, -5.25) -> (-37, -4.9861)
  line L169 (-32, -10) -> (-37, -4.9861) projected
  line L170 (-40, -10) -> (-39.75, -10)
  line L171 (-37, -4.9861) -> (-40, -4.9861)
  line L172 (-40, -4.9861) -> (-40, -10) projected
  line L173 (-40, -4.9861) -> (-40, -5.2361)
  line L174 (-40, -5.2361) -> (-36.7507, -5.2361)
  line L175 (-37, -4.9861) -> (-36.7507, -5.2361)
  line L176 (-36.7507, -5.2361) -> (-37, -4.9861)
  line L177 (-36.9862, -5) -> (-36.8753, -5.1111)
  line L178 (-40, -10) -> (-40, -5.2361)
  line L179 (-39.75, -10) -> (-39.75, -5.2361)
  point P0 (-20, 0)
  point P1 (-40, -5)
  dimension "d54" = 0.25
  dimension "d55" = 4.75
  dimension "d56" = 9.5
  dimension "d59" = 0.25
  dimension "d60" = 0.25
  dimension "d61" = 4.75
  dimension "d62" = 9.5
  dimension "d64" = 0.25
  dimension "d65" = 0.25
  dimension "d66" = 45
  dimension "d67" = 0.25
  dimension "d68" = 135
  dimension "d69" = 0.25
  dimension "d70" = 180
  dimension "d71" = 90
  dimension "d72" = 0.25
  dimension "d73" = 0.25
  dimension "d74" = 0.25
  dimension "d75" = 0.25
  dimension "d76" = 4.75
  dimension "d77" = 9.5
  dimension "d78" = 0.25
  dimension "d80" = 0.25
  dimension "d81" = 4.75
  dimension "d82" = 9.5
  dimension "d83" = 0.25
  dimension "d84" = 0.25
  dimension "d85" = 0.25
  dimension "d86" = 45
  dimension "d91" = 0.25
  dimension "d92" = 90
  dimension "d93" = 0.25
  dimension "d96" = 0.25
  dimension "d97" = 135
  dimension "d99" = 0.25
  dimension "d100" = 0.25
extrude "Extrusion3" cut sketch "Sketch6" against normal blind 3.35 contours L16 L14 L13 L12 | L140 L141 L16 | L26 L24 L23 L22 L21 L19 L18 L28 | L146 L163 L174 L165 | L45 L37 L38 L44 | L34 L35 L36 L32 | L38 L42 L35 L40 | L146 L172 L174 L179 | L174 L172 L164 L163 | L163 L164 L165 L174 | L152 L158 L154 L155 | L151 L154 L158 L152 | L154 L158 L147 L155 | L60 L59 L50 L106 L47 | L56 L55 L54 L59 L50 L48 | L61 L62 L64 L65 | L126 L133 L120 L121 | L77 L72 L75 L78 | L48 L50 L59 L60 | L57 L59 L54 L55 | L51 L53 L54 L59 L57 | L120 L133 L131 L121 | L120 L118 L122 L131 L133 | L126 L119 L120 L128 | L64 L69 L67 L65 | L80 L89 L87 L86 L85 L84 L83 L81 | L95 L104 L103 L101 L100 L99 L98 L96
extrude "Extrusion4" add sketch "Sketch5" along normal blind 3
sketch "Sketch7" plane through (0, -6.35, 0) normal (0, -1, 0) x (1, 0, 0)
  line L0 (-23, -2.5) -> (-25, -2.5) projected
  line L1 (-25, -2.5) -> (-22.25, -2.5)
  line L2 (-22.25, -2.5) -> (-22.25, 0)
  line L3 (-22.25, 0) -> (-25, 0)
  line L4 (-25, 0) -> (-25, -2.5)
  line L5 (-55, -2.5) -> (-55, 0) projected
  line L6 (-55, -2.5) -> (-57.75, -2.5)
  line L7 (-57.75, -2.5) -> (-57.75, 0)
  line L8 (-57.75, 0) -> (-55, 0)
  line L9 (-55, 0) -> (-55, -2.5)
  line L10 (-75, -100) -> (-75, -97.5) projected
  line L11 (-75, -97.5) -> (-77.75, -97.5)
  line L12 (-77.75, -97.5) -> (-77.75, -100)
  line L13 (-77.75, -100) -> (-75, -100)
  line L14 (-75, -100) -> (-75, -97.5)
  line L15 (-43, -97.5) -> (-45, -97.5) projected
  line L16 (-45, -97.5) -> (-42.25, -97.5)
  line L17 (-42.25, -97.5) -> (-42.25, -100)
  line L18 (-42.25, -100) -> (-45, -100)
  line L19 (-45, -100) -> (-45, -97.5)
  point P0 (0, 0)
  dimension "d103" = 2.75
  dimension "d104" = 2.5
  dimension "d105" = 2.75
  dimension "d106" = 2.5
  dimension "d107" = 2.75
  dimension "d108" = 2.5
  dimension "d109" = 2.75
  dimension "d110" = 2.5
extrude "Extrusion5" add sketch "Sketch7" along normal blind 2
sketch "Sketch8" plane through (-60, 3.35, -100) normal (0, 0, -1) x (-1, 0, 0)
  line L0 (17.75, -9.7) -> (17.75, -11.7) projected
  line L1 (17.75, -9.7) -> (17.75, -8.95)
  line L2 (-17, -9.7) -> (-17.75, -9.7) projected
  line L3 (-17.75, -9.7) -> (-17.75, -8.95)
  point P0 (-60, -3.35)
  dimension "d117" = 0.75
hole "Hole1" at (-77.75, -5.6, -100) at (-42.25, -5.6, -100) direction (0, 0, 1) diameter 2.125 end through all
chamfer "Chamfer2" distance 1 distance2 1.25 1 edges at (-77.75, -8.35, -98.75) measured on face at (-76.8333, -8.35, -98.3333)
chamfer "Chamfer3" distance 1 distance2 1.25 1 edges at (-42.25, -8.35, -98.75) measured on face at (-44.0833, -8.35, -98.3333)
sketch "Sketch9" plane through (-70, 3.35, 0) normal (0, 0, 1) x (1, 0, 0)
  line L0 (47.75, -9.7) -> (47.75, -11.7) projected
  line L1 (47.75, -9.7) -> (47.75, -8.95)
  line L2 (12.25, -9.7) -> (12.25, -11.7) projected
  line L3 (12.25, -9.7) -> (12.25, -8.95)
  point P0 (70, -3.35)
  dimension "d131" = 0.75
hole "Hole2" at (-57.75, -5.6, 0) at (-22.25, -5.6, 0) direction (0, 0, -1) diameter 2.125 end through all
chamfer "Chamfer4" distance 1 distance2 1.25 1 edges at (-57.75, -8.35, -1.25) measured on face at (-55.9167, -8.35, -1.6667)
chamfer "Chamfer5" distance 1 distance2 1.25 1 edges at (-22.25, -8.35, -1.25) measured on face at (-24.0833, -8.35, -0.8333)
sketch "Sketch10" plane through (0, -8.35, 0) normal (0, -1, 0) x (1, 0, 0)
  line L0 (-25, 0) -> (-30, 0) projected
  line L1 (-25, 0) -> (-24.75, 0)
  line L2 (-24.75, 0) -> (-24.75, -2.5)
  line L3 (-24.75, -2.5) -> (-25, -2.5)
  line L4 (-25, -2.5) -> (-25, 0)
  line L5 (-55, 0) -> (-55, -2.5) projected
  line L6 (-55, 0) -> (-55.25, 0)
  line L7 (-55.25, 0) -> (-55.25, -2.5)
  line L8 (-55.25, -2.5) -> (-55, -2.5)
  line L9 (-55, -2.5) -> (-55, 0)
  line L10 (-45, -97.5) -> (-43, -97.5) projected
  line L11 (-45, -97.5) -> (-44.75, -97.5)
  line L12 (-44.75, -97.5) -> (-44.75, -100)
  line L13 (-44.75, -100) -> (-45, -100)
  line L14 (-45, -100) -> (-45, -97.5)
  line L15 (-75, -97.5) -> (-75, -100) projected
  line L16 (-75, -97.5) -> (-75.25, -97.5)
  line L17 (-75.25, -97.5) -> (-75.25, -100)
  line L18 (-75.25, -100) -> (-75, -100)
  line L19 (-75, -100) -> (-75, -97.5)
  point P0 (0, 0)
  dimension "d145" = 0.25
  dimension "d146" = 2.5
  dimension "d147" = 0.25
  dimension "d148" = 2.5
  dimension "d149" = 0.25
  dimension "d150" = 2.5
  dimension "d151" = 0.25
  dimension "d152" = 2.5
fillet "Fillet2" radius 1 8 edges at (-55, -3.35, -1.25) (-25, -3.35, -1.25) (-23, -3.35, -1.25) (-57, -3.35, -1.25) (-75, -3.35, -98.75) (-77, -3.35, -98.75) (-43, -3.35, -98.75) (-45, -3.35, -98.75)
properties part number "Puzzle_Connect_Final"
